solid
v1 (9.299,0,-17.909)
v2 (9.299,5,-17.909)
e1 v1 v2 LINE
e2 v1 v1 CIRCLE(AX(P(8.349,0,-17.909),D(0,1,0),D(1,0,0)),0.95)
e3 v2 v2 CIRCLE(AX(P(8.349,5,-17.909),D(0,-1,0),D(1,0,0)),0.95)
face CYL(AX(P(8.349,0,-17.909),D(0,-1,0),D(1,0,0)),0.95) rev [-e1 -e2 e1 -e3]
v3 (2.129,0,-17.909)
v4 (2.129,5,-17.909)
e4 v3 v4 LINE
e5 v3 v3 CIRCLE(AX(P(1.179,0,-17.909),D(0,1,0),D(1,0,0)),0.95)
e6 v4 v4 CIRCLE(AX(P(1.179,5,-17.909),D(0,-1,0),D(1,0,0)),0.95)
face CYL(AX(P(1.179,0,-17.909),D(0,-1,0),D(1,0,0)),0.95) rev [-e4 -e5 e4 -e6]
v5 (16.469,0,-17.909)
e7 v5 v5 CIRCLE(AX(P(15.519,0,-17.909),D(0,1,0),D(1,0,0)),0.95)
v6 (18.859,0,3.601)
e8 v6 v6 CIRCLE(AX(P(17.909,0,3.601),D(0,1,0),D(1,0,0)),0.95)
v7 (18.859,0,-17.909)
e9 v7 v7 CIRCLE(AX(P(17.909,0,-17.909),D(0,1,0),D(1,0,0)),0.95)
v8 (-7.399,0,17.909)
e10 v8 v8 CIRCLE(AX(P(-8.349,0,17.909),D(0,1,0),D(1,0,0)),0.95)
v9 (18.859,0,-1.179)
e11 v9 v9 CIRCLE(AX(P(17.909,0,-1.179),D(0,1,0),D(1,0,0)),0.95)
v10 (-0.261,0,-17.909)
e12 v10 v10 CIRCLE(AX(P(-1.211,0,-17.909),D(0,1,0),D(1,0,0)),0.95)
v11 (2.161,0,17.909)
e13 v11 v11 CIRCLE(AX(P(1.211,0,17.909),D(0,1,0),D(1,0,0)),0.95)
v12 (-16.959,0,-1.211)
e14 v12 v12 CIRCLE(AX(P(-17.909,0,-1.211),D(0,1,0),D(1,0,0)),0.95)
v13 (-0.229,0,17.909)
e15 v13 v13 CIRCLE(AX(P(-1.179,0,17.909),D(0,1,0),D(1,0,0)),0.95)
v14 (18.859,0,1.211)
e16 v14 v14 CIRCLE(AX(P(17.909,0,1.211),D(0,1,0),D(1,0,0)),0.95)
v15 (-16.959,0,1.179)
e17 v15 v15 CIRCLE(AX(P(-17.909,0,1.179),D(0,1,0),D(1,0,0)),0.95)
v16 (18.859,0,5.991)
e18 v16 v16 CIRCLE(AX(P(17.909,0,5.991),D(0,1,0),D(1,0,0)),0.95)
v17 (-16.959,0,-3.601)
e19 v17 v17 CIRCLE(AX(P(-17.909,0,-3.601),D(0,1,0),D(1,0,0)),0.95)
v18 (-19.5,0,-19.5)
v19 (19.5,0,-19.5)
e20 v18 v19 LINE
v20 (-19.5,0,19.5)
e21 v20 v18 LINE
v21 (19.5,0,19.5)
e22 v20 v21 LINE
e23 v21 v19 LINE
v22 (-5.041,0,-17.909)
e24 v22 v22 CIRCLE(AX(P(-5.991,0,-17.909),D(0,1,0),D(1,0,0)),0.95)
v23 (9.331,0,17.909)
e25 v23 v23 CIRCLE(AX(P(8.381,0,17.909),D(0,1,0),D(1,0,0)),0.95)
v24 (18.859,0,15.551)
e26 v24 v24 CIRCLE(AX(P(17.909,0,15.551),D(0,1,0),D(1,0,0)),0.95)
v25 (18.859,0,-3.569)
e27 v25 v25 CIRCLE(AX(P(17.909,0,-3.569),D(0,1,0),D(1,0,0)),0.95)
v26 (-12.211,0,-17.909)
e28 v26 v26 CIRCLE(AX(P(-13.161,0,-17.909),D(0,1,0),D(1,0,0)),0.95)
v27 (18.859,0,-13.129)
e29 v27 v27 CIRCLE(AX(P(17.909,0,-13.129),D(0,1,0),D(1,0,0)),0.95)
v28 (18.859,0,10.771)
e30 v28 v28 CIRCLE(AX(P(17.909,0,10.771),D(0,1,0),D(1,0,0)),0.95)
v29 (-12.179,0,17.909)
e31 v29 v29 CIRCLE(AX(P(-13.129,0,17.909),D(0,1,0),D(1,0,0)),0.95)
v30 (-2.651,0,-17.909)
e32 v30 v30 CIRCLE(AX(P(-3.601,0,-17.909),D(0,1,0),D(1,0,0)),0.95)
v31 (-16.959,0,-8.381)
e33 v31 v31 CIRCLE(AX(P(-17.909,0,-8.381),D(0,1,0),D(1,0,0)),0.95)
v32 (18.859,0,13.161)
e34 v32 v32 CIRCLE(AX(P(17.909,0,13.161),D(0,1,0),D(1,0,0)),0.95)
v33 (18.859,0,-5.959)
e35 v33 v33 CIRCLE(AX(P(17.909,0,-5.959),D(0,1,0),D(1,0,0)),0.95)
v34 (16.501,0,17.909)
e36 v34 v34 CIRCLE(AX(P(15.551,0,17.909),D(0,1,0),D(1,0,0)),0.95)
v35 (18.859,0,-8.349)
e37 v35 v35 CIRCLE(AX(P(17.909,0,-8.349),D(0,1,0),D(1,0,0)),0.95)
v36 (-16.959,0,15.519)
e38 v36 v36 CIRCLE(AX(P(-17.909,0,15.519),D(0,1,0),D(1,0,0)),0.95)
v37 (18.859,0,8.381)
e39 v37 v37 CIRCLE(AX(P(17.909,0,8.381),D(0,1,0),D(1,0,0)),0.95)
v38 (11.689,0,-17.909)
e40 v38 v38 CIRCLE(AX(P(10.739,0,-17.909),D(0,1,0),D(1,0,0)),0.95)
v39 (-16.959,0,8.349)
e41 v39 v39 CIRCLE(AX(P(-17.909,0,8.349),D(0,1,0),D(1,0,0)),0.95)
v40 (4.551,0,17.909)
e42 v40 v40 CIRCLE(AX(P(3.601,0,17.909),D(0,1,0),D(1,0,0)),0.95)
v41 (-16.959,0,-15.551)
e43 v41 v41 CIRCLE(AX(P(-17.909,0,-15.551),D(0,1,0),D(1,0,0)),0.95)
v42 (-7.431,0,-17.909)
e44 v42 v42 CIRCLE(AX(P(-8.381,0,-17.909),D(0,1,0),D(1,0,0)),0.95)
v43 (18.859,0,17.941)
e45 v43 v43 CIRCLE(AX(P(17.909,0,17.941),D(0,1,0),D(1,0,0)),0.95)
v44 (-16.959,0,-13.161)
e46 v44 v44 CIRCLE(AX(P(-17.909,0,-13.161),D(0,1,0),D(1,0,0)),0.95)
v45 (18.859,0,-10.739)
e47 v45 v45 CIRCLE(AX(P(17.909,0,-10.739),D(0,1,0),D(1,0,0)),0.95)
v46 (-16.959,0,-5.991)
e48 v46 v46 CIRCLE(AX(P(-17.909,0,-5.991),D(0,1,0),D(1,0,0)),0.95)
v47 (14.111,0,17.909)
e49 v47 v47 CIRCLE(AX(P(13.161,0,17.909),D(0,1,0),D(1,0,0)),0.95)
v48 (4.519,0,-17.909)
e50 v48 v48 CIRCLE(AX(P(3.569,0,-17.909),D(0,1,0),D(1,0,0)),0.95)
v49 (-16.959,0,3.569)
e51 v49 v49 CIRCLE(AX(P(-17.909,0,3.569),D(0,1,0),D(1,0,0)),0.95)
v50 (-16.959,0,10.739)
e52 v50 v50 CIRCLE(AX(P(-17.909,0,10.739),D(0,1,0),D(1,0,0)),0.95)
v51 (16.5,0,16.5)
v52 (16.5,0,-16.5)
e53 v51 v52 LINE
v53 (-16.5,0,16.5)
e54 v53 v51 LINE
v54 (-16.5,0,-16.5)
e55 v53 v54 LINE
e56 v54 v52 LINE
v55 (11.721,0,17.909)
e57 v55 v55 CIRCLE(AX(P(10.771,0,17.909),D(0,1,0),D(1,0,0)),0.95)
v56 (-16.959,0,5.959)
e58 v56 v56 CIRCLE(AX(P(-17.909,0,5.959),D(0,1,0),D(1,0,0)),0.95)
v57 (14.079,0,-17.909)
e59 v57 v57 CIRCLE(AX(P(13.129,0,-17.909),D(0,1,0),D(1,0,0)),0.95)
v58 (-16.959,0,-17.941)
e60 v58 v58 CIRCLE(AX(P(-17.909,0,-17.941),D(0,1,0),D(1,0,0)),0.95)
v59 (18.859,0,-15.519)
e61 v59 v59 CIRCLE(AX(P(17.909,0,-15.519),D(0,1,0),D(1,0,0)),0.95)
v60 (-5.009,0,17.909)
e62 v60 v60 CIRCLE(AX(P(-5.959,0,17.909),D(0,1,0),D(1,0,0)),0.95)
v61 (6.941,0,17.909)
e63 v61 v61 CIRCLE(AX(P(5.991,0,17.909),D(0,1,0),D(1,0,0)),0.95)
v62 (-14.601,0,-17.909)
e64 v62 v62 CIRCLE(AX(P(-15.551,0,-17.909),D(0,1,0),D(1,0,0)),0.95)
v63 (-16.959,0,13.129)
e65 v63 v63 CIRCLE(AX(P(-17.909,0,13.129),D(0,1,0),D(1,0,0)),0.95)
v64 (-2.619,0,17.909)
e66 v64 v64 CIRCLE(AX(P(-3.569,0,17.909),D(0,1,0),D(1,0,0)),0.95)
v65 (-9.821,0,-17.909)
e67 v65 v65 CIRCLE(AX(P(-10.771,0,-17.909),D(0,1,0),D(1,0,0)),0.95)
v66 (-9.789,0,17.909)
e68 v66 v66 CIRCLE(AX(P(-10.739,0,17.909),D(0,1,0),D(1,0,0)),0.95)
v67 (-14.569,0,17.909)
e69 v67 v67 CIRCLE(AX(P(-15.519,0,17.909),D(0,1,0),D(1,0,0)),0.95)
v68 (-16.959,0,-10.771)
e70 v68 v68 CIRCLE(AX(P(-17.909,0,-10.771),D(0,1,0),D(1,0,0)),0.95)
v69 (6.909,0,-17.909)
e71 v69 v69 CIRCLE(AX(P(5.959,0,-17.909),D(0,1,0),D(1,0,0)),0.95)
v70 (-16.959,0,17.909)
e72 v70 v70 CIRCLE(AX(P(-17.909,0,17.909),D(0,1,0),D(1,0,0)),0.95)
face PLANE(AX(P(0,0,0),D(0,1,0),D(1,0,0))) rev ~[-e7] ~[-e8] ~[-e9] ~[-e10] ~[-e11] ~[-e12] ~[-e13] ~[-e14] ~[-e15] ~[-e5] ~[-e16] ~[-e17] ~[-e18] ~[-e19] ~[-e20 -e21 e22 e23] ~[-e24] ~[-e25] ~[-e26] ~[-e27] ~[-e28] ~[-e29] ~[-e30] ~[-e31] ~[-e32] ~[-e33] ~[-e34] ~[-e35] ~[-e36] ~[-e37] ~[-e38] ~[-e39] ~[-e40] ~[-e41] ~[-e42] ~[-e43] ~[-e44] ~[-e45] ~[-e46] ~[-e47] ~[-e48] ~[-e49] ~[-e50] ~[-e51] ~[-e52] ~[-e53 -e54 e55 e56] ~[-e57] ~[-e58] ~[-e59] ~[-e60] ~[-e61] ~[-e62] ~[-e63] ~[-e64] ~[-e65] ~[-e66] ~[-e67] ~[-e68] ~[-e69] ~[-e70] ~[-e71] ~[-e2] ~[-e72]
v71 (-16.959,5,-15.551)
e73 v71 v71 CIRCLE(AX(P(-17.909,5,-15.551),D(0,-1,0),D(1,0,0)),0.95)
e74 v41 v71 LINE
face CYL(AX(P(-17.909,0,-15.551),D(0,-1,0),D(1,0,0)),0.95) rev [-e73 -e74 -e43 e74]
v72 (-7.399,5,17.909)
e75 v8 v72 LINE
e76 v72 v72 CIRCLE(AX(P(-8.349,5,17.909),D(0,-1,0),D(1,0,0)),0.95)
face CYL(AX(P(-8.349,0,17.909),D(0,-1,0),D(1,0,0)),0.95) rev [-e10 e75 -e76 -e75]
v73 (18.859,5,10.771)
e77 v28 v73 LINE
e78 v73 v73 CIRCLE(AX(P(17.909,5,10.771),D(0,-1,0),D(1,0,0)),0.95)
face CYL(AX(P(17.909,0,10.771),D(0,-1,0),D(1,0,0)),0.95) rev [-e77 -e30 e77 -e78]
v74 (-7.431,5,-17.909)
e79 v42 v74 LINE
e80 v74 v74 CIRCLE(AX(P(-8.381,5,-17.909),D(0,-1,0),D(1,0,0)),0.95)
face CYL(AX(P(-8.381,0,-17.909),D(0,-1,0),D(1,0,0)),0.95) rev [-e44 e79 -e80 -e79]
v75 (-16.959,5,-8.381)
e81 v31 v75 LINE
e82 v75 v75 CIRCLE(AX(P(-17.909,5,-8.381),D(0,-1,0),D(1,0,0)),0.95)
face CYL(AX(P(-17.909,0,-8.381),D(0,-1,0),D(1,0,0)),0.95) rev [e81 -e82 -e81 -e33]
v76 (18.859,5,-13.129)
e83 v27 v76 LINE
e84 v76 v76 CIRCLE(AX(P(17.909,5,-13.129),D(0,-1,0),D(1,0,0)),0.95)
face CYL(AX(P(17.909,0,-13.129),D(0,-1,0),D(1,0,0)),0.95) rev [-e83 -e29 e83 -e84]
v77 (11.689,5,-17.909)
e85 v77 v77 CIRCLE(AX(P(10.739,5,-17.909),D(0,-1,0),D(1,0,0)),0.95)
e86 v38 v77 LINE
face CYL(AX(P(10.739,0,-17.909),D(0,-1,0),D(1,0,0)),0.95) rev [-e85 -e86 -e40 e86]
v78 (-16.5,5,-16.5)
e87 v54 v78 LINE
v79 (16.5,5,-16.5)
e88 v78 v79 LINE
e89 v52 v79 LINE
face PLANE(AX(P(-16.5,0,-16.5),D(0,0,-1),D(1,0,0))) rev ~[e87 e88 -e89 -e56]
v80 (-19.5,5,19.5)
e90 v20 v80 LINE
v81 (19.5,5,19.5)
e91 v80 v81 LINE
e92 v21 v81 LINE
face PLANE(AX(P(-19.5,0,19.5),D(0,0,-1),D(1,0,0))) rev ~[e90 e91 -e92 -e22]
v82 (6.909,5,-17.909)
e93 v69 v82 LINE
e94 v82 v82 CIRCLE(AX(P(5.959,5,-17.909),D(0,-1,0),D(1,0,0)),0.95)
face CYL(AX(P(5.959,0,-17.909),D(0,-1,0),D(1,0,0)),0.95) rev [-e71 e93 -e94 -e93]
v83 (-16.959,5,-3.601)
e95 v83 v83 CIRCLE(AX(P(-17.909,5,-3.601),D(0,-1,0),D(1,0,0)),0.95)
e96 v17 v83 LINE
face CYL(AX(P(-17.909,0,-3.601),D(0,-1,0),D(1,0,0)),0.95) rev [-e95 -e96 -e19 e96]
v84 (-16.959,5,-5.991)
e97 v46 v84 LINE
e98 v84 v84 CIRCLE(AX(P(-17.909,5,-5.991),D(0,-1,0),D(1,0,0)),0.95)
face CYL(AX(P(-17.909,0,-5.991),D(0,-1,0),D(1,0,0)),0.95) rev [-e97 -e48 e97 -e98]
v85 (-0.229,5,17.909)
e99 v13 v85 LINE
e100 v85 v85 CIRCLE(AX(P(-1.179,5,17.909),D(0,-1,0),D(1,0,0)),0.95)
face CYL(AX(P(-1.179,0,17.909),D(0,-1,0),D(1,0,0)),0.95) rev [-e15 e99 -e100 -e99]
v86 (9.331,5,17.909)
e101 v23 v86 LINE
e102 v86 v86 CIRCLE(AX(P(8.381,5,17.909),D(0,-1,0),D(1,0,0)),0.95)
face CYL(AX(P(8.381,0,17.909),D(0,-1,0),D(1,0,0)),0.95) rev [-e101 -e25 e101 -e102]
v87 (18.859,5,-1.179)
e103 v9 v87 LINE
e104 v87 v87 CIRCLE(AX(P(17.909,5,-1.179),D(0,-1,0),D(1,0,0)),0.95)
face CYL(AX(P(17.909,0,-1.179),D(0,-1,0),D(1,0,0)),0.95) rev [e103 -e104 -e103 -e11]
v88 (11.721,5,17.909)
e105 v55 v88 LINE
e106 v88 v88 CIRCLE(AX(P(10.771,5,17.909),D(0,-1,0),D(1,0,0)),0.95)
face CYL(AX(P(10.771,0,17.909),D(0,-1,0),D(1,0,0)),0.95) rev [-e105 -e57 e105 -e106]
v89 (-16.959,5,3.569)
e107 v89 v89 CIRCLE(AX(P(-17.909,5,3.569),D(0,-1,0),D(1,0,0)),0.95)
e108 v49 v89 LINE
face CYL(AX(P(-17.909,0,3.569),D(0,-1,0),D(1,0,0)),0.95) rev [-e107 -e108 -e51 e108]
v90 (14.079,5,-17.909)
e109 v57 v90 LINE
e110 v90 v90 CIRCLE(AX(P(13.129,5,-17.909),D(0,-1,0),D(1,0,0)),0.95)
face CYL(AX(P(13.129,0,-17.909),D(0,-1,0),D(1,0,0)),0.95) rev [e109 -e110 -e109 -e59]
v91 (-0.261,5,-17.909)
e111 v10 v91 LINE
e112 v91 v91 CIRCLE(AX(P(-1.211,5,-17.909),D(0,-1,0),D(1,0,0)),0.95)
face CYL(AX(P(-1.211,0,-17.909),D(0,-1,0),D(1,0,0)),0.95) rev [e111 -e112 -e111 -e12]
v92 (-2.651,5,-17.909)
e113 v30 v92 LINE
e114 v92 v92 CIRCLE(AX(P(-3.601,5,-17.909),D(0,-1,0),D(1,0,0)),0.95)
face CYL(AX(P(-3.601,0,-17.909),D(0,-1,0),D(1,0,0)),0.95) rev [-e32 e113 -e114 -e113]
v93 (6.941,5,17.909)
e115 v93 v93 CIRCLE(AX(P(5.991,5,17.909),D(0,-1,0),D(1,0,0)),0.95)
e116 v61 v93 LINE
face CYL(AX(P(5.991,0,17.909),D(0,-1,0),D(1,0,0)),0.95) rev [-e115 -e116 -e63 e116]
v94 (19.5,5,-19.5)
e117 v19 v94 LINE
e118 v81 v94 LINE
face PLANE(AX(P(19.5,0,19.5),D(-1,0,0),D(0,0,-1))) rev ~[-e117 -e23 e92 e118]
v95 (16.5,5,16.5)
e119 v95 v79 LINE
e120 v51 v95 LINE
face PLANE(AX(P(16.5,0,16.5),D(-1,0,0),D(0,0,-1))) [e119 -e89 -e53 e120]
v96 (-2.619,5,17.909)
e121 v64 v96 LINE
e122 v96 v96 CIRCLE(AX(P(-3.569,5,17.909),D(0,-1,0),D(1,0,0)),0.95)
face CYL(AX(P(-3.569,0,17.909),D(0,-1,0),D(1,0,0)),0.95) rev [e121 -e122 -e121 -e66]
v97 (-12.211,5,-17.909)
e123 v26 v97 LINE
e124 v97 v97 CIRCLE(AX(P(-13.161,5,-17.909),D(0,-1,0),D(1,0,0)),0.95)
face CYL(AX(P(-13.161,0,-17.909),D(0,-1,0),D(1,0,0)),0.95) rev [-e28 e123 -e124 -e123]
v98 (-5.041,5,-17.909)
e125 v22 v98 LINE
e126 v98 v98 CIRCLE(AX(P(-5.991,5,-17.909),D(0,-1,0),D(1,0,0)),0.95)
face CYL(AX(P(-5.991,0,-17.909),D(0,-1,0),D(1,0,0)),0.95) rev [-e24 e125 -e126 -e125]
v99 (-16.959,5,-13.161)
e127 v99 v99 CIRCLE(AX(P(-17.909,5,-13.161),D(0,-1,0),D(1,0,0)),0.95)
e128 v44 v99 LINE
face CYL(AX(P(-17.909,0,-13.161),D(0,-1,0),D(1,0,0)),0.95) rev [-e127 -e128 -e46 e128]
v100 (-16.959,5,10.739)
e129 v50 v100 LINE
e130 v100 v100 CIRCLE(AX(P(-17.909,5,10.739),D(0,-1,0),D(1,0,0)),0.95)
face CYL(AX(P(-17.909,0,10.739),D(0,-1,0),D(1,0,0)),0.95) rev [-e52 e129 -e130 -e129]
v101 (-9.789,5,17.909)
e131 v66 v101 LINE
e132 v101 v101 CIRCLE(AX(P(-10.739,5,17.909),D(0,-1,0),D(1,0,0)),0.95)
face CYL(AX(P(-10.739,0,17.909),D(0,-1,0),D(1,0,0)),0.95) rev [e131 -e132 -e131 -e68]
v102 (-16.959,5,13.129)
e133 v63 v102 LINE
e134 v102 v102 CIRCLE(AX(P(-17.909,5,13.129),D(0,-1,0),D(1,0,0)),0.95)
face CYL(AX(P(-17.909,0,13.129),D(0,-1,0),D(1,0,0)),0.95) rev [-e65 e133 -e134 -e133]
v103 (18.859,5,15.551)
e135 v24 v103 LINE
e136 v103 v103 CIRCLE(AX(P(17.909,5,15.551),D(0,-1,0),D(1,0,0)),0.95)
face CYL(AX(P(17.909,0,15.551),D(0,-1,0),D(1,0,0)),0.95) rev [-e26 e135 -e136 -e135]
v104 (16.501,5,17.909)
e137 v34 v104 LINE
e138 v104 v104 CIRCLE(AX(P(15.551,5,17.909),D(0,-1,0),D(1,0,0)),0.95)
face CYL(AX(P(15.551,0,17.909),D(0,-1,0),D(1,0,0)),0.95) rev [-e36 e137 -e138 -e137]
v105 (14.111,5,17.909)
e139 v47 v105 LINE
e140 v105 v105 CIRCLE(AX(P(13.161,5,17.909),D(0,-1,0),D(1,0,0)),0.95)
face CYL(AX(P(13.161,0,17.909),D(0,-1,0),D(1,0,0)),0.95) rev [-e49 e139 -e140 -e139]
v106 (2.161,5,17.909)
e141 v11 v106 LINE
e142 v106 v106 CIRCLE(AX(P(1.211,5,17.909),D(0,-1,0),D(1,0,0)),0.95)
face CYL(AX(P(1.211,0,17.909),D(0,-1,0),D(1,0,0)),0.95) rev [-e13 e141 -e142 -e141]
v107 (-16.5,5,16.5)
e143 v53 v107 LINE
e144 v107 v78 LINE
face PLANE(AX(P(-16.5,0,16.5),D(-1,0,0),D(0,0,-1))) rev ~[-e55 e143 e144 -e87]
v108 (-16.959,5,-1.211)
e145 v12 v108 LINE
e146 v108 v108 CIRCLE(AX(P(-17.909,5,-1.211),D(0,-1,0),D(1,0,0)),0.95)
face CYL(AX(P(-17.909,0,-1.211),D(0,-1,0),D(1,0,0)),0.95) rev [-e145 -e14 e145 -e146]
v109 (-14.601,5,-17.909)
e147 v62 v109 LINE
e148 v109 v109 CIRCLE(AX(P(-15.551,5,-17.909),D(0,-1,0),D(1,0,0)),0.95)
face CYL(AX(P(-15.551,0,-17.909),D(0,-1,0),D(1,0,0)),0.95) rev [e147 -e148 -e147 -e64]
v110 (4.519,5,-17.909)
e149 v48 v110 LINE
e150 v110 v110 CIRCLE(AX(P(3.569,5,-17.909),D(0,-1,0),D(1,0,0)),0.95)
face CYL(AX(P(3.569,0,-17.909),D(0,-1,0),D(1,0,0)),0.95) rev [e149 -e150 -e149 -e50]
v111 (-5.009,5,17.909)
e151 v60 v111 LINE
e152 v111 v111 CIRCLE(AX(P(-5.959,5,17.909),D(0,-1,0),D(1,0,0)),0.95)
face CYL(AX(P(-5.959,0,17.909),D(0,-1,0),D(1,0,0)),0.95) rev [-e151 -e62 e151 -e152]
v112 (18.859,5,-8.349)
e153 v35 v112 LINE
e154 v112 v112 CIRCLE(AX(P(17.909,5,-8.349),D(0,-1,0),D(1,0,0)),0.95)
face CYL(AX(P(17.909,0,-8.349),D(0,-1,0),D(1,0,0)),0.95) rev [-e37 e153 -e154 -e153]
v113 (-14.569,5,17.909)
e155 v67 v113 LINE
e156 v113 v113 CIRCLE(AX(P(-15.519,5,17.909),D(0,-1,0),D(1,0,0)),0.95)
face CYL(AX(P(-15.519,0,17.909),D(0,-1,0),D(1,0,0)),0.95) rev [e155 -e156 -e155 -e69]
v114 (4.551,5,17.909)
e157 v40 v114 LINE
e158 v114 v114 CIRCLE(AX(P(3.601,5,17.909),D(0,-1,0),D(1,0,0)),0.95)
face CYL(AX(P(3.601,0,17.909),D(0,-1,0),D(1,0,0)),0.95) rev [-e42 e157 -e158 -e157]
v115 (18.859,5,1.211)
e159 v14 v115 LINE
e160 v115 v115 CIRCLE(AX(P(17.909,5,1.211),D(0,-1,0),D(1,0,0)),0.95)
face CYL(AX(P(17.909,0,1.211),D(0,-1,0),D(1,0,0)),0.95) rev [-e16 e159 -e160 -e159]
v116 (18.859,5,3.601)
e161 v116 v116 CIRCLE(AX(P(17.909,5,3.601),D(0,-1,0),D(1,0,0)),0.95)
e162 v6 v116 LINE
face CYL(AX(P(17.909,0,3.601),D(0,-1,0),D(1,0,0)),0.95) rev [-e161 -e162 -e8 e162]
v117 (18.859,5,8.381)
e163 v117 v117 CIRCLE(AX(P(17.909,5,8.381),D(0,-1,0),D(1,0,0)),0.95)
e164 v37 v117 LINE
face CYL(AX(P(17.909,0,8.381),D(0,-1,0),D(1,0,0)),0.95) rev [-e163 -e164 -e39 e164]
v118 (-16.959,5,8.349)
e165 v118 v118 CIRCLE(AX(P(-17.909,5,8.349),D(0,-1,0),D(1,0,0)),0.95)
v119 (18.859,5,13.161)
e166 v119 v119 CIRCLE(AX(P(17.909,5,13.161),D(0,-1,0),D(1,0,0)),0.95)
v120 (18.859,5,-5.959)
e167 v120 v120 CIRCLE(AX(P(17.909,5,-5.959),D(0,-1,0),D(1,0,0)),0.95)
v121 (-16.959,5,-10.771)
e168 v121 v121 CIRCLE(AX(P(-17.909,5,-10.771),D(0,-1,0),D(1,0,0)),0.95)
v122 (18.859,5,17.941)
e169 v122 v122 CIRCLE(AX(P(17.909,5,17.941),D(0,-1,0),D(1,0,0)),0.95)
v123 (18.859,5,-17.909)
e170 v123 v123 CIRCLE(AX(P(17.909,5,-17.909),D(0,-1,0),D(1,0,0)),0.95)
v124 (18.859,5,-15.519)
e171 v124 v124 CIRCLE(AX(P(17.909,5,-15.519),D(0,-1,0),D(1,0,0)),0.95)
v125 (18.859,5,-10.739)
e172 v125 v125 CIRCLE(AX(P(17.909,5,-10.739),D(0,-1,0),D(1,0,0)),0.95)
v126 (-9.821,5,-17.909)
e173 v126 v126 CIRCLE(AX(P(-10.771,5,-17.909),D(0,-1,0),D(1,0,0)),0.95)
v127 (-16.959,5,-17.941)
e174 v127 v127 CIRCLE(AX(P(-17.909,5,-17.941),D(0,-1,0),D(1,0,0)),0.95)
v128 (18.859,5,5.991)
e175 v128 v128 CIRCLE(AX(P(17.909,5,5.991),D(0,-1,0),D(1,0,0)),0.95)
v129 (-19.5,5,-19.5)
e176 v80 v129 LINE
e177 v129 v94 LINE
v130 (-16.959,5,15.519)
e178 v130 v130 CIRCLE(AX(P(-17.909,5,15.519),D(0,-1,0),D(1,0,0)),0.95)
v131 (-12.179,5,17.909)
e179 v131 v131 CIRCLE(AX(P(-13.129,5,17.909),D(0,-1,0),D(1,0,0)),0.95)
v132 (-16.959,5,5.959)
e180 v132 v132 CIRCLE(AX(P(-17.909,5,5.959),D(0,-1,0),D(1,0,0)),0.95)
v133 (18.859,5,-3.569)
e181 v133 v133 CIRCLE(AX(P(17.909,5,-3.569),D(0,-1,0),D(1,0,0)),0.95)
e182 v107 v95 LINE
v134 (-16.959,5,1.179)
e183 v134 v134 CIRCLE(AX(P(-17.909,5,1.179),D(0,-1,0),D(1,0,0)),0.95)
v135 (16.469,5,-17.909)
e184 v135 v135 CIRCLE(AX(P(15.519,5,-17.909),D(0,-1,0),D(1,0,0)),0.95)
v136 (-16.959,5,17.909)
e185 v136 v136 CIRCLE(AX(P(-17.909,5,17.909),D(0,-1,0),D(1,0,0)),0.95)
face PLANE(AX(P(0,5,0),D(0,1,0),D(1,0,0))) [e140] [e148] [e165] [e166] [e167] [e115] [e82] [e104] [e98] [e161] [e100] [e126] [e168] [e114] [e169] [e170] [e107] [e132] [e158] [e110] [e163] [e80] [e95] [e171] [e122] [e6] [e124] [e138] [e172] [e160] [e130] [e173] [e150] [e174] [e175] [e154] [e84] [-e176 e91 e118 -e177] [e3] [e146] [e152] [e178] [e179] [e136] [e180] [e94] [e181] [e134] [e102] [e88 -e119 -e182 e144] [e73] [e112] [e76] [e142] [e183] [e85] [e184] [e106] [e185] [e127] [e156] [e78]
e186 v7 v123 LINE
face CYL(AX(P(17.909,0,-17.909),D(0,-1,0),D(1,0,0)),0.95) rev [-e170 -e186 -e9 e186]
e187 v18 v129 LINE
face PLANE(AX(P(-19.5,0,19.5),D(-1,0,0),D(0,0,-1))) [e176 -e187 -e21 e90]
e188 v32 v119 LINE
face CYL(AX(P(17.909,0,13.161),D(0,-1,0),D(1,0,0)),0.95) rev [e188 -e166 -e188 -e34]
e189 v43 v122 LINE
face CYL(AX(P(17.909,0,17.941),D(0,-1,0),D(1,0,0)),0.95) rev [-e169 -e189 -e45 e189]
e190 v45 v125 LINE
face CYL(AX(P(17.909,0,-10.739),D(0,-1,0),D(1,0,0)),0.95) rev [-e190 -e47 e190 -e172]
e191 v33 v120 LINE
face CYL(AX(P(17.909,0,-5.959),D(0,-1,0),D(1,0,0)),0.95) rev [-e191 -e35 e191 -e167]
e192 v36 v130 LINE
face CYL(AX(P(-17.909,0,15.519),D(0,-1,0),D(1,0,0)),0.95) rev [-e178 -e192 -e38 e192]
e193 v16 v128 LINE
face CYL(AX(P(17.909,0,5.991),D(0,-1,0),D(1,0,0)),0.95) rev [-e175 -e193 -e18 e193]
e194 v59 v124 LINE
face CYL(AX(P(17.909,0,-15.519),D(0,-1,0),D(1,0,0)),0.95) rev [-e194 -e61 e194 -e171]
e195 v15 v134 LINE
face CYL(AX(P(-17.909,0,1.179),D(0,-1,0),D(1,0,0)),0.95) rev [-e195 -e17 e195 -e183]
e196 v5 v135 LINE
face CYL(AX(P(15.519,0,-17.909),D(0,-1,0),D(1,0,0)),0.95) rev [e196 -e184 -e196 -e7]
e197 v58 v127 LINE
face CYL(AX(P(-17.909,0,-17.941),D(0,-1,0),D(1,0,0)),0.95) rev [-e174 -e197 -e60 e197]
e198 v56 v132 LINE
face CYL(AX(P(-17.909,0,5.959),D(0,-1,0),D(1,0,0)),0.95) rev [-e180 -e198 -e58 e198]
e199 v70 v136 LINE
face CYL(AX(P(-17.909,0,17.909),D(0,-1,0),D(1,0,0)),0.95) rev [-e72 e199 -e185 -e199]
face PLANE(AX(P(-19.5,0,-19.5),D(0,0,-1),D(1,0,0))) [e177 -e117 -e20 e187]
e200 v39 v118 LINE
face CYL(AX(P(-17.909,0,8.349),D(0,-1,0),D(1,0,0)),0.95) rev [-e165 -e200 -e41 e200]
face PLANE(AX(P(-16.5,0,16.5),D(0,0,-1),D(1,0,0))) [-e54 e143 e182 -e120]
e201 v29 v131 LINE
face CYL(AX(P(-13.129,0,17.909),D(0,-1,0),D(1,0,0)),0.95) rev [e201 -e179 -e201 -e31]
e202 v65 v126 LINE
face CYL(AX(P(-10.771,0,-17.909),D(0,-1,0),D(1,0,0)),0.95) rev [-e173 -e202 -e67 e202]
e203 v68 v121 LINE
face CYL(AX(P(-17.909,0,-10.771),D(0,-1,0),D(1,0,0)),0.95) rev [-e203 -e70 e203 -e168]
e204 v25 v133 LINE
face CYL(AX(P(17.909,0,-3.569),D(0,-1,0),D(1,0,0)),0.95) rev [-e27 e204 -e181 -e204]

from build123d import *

# Parameters (mm, degrees)
SKETCH2_W           = 39
SKETCH2_H           = 39
SKETCH2_W_2         = 33
SKETCH2_H_2         = 33
BOSS_EXTRUDE1_DEPTH = 5
SKETCH1_R           = 0.95
CUT_EXTRUDE1_DEPTH  = 6


with BuildPart() as part:
    # Sketch2 → Boss-Extrude1 (new body)
    with BuildSketch(Plane(origin=(0, 0, 0), x_dir=(1, 0, 0), z_dir=(0, 1, 0))):
        Rectangle(SKETCH2_W, SKETCH2_H)
        Rectangle(SKETCH2_W_2, SKETCH2_H_2, mode=Mode.SUBTRACT)
    extrude(amount=BOSS_EXTRUDE1_DEPTH)

    # Sketch1 → Cut-Extrude1 (cut, through all)
    with BuildSketch(Plane(origin=(0, 0, 0), x_dir=(1, 0, 0), z_dir=(0, 1, 0))):
        with Locations((-17.909, -17.909)):
            Circle(SKETCH1_R)
        with Locations((-15.519, -17.909)):
            Circle(SKETCH1_R)
        with Locations((-13.129, -17.909)):
            Circle(SKETCH1_R)
        with Locations((-10.739, -17.909)):
            Circle(SKETCH1_R)
        with Locations((-8.349, -17.909)):
            Circle(SKETCH1_R)
        with Locations((-5.959, -17.909)):
            Circle(SKETCH1_R)
        with Locations((-3.569, -17.909)):
            Circle(SKETCH1_R)
        with Locations((-1.179, -17.909)):
            Circle(SKETCH1_R)
        with Locations((1.211, -17.909)):
            Circle(SKETCH1_R)
        with Locations((3.601, -17.909)):
            Circle(SKETCH1_R)
        with Locations((5.991, -17.909)):
            Circle(SKETCH1_R)
        with Locations((8.381, -17.909)):
            Circle(SKETCH1_R)
        with Locations((10.771, -17.909)):
            Circle(SKETCH1_R)
        with Locations((13.161, -17.909)):
            Circle(SKETCH1_R)
        with Locations((15.551, -17.909)):
            Circle(SKETCH1_R)
        with Locations((17.909, 17.909)):
            Circle(SKETCH1_R)
        with Locations((17.909, -17.941)):
            Circle(SKETCH1_R)
        with Locations((17.909, -15.551)):
            Circle(SKETCH1_R)
        with Locations((17.909, -13.161)):
            Circle(SKETCH1_R)
        with Locations((17.909, -10.771)):
            Circle(SKETCH1_R)
        with Locations((17.909, -8.381)):
            Circle(SKETCH1_R)
        with Locations((17.909, -5.991)):
            Circle(SKETCH1_R)
        with Locations((17.909, -3.601)):
            Circle(SKETCH1_R)
        with Locations((17.909, -1.211)):
            Circle(SKETCH1_R)
        with Locations((17.909, 1.179)):
            Circle(SKETCH1_R)
        with Locations((17.909, 3.569)):
            Circle(SKETCH1_R)
        with Locations((17.909, 5.959)):
            Circle(SKETCH1_R)
        with Locations((17.909, 8.349)):
            Circle(SKETCH1_R)
        with Locations((17.909, 10.739)):
            Circle(SKETCH1_R)
        with Locations((17.909, 13.129)):
            Circle(SKETCH1_R)
        with Locations((17.909, 15.519)):
            Circle(SKETCH1_R)
        with Locations((15.519, 17.909)):
            Circle(SKETCH1_R)
        with Locations((13.129, 17.909)):
            Circle(SKETCH1_R)
        with Locations((10.739, 17.909)):
            Circle(SKETCH1_R)
        with Locations((8.349, 17.909)):
            Circle(SKETCH1_R)
        with Locations((5.959, 17.909)):
            Circle(SKETCH1_R)
        with Locations((3.569, 17.909)):
            Circle(SKETCH1_R)
        with Locations((1.179, 17.909)):
            Circle(SKETCH1_R)
        with Locations((-1.211, 17.909)):
            Circle(SKETCH1_R)
        with Locations((-3.601, 17.909)):
            Circle(SKETCH1_R)
        with Locations((-5.991, 17.909)):
            Circle(SKETCH1_R)
        with Locations((-8.381, 17.909)):
            Circle(SKETCH1_R)
        with Locations((-10.771, 17.909)):
            Circle(SKETCH1_R)
        with Locations((-13.161, 17.909)):
            Circle(SKETCH1_R)
        with Locations((-15.551, 17.909)):
            Circle(SKETCH1_R)
        with Locations((-17.909, 17.941)):
            Circle(SKETCH1_R)
        with Locations((-17.909, 15.551)):
            Circle(SKETCH1_R)
        with Locations((-17.909, 13.161)):
            Circle(SKETCH1_R)
        with Locations((-17.909, 10.771)):
            Circle(SKETCH1_R)
        with Locations((-17.909, 8.381)):
            Circle(SKETCH1_R)
        with Locations((-17.909, 5.991)):
            Circle(SKETCH1_R)
        with Locations((-17.909, 3.601)):
            Circle(SKETCH1_R)
        with Locations((-17.909, 1.211)):
            Circle(SKETCH1_R)
        with Locations((-17.909, -1.179)):
            Circle(SKETCH1_R)
        with Locations((-17.909, -3.569)):
            Circle(SKETCH1_R)
        with Locations((-17.909, -5.959)):
            Circle(SKETCH1_R)
        with Locations((-17.909, -8.349)):
            Circle(SKETCH1_R)
        with Locations((-17.909, -10.739)):
            Circle(SKETCH1_R)
        with Locations((-17.909, -13.129)):
            Circle(SKETCH1_R)
        with Locations((-17.909, -15.519)):
            Circle(SKETCH1_R)
    extrude(amount=CUT_EXTRUDE1_DEPTH, mode=Mode.SUBTRACT)


solid = part.part
